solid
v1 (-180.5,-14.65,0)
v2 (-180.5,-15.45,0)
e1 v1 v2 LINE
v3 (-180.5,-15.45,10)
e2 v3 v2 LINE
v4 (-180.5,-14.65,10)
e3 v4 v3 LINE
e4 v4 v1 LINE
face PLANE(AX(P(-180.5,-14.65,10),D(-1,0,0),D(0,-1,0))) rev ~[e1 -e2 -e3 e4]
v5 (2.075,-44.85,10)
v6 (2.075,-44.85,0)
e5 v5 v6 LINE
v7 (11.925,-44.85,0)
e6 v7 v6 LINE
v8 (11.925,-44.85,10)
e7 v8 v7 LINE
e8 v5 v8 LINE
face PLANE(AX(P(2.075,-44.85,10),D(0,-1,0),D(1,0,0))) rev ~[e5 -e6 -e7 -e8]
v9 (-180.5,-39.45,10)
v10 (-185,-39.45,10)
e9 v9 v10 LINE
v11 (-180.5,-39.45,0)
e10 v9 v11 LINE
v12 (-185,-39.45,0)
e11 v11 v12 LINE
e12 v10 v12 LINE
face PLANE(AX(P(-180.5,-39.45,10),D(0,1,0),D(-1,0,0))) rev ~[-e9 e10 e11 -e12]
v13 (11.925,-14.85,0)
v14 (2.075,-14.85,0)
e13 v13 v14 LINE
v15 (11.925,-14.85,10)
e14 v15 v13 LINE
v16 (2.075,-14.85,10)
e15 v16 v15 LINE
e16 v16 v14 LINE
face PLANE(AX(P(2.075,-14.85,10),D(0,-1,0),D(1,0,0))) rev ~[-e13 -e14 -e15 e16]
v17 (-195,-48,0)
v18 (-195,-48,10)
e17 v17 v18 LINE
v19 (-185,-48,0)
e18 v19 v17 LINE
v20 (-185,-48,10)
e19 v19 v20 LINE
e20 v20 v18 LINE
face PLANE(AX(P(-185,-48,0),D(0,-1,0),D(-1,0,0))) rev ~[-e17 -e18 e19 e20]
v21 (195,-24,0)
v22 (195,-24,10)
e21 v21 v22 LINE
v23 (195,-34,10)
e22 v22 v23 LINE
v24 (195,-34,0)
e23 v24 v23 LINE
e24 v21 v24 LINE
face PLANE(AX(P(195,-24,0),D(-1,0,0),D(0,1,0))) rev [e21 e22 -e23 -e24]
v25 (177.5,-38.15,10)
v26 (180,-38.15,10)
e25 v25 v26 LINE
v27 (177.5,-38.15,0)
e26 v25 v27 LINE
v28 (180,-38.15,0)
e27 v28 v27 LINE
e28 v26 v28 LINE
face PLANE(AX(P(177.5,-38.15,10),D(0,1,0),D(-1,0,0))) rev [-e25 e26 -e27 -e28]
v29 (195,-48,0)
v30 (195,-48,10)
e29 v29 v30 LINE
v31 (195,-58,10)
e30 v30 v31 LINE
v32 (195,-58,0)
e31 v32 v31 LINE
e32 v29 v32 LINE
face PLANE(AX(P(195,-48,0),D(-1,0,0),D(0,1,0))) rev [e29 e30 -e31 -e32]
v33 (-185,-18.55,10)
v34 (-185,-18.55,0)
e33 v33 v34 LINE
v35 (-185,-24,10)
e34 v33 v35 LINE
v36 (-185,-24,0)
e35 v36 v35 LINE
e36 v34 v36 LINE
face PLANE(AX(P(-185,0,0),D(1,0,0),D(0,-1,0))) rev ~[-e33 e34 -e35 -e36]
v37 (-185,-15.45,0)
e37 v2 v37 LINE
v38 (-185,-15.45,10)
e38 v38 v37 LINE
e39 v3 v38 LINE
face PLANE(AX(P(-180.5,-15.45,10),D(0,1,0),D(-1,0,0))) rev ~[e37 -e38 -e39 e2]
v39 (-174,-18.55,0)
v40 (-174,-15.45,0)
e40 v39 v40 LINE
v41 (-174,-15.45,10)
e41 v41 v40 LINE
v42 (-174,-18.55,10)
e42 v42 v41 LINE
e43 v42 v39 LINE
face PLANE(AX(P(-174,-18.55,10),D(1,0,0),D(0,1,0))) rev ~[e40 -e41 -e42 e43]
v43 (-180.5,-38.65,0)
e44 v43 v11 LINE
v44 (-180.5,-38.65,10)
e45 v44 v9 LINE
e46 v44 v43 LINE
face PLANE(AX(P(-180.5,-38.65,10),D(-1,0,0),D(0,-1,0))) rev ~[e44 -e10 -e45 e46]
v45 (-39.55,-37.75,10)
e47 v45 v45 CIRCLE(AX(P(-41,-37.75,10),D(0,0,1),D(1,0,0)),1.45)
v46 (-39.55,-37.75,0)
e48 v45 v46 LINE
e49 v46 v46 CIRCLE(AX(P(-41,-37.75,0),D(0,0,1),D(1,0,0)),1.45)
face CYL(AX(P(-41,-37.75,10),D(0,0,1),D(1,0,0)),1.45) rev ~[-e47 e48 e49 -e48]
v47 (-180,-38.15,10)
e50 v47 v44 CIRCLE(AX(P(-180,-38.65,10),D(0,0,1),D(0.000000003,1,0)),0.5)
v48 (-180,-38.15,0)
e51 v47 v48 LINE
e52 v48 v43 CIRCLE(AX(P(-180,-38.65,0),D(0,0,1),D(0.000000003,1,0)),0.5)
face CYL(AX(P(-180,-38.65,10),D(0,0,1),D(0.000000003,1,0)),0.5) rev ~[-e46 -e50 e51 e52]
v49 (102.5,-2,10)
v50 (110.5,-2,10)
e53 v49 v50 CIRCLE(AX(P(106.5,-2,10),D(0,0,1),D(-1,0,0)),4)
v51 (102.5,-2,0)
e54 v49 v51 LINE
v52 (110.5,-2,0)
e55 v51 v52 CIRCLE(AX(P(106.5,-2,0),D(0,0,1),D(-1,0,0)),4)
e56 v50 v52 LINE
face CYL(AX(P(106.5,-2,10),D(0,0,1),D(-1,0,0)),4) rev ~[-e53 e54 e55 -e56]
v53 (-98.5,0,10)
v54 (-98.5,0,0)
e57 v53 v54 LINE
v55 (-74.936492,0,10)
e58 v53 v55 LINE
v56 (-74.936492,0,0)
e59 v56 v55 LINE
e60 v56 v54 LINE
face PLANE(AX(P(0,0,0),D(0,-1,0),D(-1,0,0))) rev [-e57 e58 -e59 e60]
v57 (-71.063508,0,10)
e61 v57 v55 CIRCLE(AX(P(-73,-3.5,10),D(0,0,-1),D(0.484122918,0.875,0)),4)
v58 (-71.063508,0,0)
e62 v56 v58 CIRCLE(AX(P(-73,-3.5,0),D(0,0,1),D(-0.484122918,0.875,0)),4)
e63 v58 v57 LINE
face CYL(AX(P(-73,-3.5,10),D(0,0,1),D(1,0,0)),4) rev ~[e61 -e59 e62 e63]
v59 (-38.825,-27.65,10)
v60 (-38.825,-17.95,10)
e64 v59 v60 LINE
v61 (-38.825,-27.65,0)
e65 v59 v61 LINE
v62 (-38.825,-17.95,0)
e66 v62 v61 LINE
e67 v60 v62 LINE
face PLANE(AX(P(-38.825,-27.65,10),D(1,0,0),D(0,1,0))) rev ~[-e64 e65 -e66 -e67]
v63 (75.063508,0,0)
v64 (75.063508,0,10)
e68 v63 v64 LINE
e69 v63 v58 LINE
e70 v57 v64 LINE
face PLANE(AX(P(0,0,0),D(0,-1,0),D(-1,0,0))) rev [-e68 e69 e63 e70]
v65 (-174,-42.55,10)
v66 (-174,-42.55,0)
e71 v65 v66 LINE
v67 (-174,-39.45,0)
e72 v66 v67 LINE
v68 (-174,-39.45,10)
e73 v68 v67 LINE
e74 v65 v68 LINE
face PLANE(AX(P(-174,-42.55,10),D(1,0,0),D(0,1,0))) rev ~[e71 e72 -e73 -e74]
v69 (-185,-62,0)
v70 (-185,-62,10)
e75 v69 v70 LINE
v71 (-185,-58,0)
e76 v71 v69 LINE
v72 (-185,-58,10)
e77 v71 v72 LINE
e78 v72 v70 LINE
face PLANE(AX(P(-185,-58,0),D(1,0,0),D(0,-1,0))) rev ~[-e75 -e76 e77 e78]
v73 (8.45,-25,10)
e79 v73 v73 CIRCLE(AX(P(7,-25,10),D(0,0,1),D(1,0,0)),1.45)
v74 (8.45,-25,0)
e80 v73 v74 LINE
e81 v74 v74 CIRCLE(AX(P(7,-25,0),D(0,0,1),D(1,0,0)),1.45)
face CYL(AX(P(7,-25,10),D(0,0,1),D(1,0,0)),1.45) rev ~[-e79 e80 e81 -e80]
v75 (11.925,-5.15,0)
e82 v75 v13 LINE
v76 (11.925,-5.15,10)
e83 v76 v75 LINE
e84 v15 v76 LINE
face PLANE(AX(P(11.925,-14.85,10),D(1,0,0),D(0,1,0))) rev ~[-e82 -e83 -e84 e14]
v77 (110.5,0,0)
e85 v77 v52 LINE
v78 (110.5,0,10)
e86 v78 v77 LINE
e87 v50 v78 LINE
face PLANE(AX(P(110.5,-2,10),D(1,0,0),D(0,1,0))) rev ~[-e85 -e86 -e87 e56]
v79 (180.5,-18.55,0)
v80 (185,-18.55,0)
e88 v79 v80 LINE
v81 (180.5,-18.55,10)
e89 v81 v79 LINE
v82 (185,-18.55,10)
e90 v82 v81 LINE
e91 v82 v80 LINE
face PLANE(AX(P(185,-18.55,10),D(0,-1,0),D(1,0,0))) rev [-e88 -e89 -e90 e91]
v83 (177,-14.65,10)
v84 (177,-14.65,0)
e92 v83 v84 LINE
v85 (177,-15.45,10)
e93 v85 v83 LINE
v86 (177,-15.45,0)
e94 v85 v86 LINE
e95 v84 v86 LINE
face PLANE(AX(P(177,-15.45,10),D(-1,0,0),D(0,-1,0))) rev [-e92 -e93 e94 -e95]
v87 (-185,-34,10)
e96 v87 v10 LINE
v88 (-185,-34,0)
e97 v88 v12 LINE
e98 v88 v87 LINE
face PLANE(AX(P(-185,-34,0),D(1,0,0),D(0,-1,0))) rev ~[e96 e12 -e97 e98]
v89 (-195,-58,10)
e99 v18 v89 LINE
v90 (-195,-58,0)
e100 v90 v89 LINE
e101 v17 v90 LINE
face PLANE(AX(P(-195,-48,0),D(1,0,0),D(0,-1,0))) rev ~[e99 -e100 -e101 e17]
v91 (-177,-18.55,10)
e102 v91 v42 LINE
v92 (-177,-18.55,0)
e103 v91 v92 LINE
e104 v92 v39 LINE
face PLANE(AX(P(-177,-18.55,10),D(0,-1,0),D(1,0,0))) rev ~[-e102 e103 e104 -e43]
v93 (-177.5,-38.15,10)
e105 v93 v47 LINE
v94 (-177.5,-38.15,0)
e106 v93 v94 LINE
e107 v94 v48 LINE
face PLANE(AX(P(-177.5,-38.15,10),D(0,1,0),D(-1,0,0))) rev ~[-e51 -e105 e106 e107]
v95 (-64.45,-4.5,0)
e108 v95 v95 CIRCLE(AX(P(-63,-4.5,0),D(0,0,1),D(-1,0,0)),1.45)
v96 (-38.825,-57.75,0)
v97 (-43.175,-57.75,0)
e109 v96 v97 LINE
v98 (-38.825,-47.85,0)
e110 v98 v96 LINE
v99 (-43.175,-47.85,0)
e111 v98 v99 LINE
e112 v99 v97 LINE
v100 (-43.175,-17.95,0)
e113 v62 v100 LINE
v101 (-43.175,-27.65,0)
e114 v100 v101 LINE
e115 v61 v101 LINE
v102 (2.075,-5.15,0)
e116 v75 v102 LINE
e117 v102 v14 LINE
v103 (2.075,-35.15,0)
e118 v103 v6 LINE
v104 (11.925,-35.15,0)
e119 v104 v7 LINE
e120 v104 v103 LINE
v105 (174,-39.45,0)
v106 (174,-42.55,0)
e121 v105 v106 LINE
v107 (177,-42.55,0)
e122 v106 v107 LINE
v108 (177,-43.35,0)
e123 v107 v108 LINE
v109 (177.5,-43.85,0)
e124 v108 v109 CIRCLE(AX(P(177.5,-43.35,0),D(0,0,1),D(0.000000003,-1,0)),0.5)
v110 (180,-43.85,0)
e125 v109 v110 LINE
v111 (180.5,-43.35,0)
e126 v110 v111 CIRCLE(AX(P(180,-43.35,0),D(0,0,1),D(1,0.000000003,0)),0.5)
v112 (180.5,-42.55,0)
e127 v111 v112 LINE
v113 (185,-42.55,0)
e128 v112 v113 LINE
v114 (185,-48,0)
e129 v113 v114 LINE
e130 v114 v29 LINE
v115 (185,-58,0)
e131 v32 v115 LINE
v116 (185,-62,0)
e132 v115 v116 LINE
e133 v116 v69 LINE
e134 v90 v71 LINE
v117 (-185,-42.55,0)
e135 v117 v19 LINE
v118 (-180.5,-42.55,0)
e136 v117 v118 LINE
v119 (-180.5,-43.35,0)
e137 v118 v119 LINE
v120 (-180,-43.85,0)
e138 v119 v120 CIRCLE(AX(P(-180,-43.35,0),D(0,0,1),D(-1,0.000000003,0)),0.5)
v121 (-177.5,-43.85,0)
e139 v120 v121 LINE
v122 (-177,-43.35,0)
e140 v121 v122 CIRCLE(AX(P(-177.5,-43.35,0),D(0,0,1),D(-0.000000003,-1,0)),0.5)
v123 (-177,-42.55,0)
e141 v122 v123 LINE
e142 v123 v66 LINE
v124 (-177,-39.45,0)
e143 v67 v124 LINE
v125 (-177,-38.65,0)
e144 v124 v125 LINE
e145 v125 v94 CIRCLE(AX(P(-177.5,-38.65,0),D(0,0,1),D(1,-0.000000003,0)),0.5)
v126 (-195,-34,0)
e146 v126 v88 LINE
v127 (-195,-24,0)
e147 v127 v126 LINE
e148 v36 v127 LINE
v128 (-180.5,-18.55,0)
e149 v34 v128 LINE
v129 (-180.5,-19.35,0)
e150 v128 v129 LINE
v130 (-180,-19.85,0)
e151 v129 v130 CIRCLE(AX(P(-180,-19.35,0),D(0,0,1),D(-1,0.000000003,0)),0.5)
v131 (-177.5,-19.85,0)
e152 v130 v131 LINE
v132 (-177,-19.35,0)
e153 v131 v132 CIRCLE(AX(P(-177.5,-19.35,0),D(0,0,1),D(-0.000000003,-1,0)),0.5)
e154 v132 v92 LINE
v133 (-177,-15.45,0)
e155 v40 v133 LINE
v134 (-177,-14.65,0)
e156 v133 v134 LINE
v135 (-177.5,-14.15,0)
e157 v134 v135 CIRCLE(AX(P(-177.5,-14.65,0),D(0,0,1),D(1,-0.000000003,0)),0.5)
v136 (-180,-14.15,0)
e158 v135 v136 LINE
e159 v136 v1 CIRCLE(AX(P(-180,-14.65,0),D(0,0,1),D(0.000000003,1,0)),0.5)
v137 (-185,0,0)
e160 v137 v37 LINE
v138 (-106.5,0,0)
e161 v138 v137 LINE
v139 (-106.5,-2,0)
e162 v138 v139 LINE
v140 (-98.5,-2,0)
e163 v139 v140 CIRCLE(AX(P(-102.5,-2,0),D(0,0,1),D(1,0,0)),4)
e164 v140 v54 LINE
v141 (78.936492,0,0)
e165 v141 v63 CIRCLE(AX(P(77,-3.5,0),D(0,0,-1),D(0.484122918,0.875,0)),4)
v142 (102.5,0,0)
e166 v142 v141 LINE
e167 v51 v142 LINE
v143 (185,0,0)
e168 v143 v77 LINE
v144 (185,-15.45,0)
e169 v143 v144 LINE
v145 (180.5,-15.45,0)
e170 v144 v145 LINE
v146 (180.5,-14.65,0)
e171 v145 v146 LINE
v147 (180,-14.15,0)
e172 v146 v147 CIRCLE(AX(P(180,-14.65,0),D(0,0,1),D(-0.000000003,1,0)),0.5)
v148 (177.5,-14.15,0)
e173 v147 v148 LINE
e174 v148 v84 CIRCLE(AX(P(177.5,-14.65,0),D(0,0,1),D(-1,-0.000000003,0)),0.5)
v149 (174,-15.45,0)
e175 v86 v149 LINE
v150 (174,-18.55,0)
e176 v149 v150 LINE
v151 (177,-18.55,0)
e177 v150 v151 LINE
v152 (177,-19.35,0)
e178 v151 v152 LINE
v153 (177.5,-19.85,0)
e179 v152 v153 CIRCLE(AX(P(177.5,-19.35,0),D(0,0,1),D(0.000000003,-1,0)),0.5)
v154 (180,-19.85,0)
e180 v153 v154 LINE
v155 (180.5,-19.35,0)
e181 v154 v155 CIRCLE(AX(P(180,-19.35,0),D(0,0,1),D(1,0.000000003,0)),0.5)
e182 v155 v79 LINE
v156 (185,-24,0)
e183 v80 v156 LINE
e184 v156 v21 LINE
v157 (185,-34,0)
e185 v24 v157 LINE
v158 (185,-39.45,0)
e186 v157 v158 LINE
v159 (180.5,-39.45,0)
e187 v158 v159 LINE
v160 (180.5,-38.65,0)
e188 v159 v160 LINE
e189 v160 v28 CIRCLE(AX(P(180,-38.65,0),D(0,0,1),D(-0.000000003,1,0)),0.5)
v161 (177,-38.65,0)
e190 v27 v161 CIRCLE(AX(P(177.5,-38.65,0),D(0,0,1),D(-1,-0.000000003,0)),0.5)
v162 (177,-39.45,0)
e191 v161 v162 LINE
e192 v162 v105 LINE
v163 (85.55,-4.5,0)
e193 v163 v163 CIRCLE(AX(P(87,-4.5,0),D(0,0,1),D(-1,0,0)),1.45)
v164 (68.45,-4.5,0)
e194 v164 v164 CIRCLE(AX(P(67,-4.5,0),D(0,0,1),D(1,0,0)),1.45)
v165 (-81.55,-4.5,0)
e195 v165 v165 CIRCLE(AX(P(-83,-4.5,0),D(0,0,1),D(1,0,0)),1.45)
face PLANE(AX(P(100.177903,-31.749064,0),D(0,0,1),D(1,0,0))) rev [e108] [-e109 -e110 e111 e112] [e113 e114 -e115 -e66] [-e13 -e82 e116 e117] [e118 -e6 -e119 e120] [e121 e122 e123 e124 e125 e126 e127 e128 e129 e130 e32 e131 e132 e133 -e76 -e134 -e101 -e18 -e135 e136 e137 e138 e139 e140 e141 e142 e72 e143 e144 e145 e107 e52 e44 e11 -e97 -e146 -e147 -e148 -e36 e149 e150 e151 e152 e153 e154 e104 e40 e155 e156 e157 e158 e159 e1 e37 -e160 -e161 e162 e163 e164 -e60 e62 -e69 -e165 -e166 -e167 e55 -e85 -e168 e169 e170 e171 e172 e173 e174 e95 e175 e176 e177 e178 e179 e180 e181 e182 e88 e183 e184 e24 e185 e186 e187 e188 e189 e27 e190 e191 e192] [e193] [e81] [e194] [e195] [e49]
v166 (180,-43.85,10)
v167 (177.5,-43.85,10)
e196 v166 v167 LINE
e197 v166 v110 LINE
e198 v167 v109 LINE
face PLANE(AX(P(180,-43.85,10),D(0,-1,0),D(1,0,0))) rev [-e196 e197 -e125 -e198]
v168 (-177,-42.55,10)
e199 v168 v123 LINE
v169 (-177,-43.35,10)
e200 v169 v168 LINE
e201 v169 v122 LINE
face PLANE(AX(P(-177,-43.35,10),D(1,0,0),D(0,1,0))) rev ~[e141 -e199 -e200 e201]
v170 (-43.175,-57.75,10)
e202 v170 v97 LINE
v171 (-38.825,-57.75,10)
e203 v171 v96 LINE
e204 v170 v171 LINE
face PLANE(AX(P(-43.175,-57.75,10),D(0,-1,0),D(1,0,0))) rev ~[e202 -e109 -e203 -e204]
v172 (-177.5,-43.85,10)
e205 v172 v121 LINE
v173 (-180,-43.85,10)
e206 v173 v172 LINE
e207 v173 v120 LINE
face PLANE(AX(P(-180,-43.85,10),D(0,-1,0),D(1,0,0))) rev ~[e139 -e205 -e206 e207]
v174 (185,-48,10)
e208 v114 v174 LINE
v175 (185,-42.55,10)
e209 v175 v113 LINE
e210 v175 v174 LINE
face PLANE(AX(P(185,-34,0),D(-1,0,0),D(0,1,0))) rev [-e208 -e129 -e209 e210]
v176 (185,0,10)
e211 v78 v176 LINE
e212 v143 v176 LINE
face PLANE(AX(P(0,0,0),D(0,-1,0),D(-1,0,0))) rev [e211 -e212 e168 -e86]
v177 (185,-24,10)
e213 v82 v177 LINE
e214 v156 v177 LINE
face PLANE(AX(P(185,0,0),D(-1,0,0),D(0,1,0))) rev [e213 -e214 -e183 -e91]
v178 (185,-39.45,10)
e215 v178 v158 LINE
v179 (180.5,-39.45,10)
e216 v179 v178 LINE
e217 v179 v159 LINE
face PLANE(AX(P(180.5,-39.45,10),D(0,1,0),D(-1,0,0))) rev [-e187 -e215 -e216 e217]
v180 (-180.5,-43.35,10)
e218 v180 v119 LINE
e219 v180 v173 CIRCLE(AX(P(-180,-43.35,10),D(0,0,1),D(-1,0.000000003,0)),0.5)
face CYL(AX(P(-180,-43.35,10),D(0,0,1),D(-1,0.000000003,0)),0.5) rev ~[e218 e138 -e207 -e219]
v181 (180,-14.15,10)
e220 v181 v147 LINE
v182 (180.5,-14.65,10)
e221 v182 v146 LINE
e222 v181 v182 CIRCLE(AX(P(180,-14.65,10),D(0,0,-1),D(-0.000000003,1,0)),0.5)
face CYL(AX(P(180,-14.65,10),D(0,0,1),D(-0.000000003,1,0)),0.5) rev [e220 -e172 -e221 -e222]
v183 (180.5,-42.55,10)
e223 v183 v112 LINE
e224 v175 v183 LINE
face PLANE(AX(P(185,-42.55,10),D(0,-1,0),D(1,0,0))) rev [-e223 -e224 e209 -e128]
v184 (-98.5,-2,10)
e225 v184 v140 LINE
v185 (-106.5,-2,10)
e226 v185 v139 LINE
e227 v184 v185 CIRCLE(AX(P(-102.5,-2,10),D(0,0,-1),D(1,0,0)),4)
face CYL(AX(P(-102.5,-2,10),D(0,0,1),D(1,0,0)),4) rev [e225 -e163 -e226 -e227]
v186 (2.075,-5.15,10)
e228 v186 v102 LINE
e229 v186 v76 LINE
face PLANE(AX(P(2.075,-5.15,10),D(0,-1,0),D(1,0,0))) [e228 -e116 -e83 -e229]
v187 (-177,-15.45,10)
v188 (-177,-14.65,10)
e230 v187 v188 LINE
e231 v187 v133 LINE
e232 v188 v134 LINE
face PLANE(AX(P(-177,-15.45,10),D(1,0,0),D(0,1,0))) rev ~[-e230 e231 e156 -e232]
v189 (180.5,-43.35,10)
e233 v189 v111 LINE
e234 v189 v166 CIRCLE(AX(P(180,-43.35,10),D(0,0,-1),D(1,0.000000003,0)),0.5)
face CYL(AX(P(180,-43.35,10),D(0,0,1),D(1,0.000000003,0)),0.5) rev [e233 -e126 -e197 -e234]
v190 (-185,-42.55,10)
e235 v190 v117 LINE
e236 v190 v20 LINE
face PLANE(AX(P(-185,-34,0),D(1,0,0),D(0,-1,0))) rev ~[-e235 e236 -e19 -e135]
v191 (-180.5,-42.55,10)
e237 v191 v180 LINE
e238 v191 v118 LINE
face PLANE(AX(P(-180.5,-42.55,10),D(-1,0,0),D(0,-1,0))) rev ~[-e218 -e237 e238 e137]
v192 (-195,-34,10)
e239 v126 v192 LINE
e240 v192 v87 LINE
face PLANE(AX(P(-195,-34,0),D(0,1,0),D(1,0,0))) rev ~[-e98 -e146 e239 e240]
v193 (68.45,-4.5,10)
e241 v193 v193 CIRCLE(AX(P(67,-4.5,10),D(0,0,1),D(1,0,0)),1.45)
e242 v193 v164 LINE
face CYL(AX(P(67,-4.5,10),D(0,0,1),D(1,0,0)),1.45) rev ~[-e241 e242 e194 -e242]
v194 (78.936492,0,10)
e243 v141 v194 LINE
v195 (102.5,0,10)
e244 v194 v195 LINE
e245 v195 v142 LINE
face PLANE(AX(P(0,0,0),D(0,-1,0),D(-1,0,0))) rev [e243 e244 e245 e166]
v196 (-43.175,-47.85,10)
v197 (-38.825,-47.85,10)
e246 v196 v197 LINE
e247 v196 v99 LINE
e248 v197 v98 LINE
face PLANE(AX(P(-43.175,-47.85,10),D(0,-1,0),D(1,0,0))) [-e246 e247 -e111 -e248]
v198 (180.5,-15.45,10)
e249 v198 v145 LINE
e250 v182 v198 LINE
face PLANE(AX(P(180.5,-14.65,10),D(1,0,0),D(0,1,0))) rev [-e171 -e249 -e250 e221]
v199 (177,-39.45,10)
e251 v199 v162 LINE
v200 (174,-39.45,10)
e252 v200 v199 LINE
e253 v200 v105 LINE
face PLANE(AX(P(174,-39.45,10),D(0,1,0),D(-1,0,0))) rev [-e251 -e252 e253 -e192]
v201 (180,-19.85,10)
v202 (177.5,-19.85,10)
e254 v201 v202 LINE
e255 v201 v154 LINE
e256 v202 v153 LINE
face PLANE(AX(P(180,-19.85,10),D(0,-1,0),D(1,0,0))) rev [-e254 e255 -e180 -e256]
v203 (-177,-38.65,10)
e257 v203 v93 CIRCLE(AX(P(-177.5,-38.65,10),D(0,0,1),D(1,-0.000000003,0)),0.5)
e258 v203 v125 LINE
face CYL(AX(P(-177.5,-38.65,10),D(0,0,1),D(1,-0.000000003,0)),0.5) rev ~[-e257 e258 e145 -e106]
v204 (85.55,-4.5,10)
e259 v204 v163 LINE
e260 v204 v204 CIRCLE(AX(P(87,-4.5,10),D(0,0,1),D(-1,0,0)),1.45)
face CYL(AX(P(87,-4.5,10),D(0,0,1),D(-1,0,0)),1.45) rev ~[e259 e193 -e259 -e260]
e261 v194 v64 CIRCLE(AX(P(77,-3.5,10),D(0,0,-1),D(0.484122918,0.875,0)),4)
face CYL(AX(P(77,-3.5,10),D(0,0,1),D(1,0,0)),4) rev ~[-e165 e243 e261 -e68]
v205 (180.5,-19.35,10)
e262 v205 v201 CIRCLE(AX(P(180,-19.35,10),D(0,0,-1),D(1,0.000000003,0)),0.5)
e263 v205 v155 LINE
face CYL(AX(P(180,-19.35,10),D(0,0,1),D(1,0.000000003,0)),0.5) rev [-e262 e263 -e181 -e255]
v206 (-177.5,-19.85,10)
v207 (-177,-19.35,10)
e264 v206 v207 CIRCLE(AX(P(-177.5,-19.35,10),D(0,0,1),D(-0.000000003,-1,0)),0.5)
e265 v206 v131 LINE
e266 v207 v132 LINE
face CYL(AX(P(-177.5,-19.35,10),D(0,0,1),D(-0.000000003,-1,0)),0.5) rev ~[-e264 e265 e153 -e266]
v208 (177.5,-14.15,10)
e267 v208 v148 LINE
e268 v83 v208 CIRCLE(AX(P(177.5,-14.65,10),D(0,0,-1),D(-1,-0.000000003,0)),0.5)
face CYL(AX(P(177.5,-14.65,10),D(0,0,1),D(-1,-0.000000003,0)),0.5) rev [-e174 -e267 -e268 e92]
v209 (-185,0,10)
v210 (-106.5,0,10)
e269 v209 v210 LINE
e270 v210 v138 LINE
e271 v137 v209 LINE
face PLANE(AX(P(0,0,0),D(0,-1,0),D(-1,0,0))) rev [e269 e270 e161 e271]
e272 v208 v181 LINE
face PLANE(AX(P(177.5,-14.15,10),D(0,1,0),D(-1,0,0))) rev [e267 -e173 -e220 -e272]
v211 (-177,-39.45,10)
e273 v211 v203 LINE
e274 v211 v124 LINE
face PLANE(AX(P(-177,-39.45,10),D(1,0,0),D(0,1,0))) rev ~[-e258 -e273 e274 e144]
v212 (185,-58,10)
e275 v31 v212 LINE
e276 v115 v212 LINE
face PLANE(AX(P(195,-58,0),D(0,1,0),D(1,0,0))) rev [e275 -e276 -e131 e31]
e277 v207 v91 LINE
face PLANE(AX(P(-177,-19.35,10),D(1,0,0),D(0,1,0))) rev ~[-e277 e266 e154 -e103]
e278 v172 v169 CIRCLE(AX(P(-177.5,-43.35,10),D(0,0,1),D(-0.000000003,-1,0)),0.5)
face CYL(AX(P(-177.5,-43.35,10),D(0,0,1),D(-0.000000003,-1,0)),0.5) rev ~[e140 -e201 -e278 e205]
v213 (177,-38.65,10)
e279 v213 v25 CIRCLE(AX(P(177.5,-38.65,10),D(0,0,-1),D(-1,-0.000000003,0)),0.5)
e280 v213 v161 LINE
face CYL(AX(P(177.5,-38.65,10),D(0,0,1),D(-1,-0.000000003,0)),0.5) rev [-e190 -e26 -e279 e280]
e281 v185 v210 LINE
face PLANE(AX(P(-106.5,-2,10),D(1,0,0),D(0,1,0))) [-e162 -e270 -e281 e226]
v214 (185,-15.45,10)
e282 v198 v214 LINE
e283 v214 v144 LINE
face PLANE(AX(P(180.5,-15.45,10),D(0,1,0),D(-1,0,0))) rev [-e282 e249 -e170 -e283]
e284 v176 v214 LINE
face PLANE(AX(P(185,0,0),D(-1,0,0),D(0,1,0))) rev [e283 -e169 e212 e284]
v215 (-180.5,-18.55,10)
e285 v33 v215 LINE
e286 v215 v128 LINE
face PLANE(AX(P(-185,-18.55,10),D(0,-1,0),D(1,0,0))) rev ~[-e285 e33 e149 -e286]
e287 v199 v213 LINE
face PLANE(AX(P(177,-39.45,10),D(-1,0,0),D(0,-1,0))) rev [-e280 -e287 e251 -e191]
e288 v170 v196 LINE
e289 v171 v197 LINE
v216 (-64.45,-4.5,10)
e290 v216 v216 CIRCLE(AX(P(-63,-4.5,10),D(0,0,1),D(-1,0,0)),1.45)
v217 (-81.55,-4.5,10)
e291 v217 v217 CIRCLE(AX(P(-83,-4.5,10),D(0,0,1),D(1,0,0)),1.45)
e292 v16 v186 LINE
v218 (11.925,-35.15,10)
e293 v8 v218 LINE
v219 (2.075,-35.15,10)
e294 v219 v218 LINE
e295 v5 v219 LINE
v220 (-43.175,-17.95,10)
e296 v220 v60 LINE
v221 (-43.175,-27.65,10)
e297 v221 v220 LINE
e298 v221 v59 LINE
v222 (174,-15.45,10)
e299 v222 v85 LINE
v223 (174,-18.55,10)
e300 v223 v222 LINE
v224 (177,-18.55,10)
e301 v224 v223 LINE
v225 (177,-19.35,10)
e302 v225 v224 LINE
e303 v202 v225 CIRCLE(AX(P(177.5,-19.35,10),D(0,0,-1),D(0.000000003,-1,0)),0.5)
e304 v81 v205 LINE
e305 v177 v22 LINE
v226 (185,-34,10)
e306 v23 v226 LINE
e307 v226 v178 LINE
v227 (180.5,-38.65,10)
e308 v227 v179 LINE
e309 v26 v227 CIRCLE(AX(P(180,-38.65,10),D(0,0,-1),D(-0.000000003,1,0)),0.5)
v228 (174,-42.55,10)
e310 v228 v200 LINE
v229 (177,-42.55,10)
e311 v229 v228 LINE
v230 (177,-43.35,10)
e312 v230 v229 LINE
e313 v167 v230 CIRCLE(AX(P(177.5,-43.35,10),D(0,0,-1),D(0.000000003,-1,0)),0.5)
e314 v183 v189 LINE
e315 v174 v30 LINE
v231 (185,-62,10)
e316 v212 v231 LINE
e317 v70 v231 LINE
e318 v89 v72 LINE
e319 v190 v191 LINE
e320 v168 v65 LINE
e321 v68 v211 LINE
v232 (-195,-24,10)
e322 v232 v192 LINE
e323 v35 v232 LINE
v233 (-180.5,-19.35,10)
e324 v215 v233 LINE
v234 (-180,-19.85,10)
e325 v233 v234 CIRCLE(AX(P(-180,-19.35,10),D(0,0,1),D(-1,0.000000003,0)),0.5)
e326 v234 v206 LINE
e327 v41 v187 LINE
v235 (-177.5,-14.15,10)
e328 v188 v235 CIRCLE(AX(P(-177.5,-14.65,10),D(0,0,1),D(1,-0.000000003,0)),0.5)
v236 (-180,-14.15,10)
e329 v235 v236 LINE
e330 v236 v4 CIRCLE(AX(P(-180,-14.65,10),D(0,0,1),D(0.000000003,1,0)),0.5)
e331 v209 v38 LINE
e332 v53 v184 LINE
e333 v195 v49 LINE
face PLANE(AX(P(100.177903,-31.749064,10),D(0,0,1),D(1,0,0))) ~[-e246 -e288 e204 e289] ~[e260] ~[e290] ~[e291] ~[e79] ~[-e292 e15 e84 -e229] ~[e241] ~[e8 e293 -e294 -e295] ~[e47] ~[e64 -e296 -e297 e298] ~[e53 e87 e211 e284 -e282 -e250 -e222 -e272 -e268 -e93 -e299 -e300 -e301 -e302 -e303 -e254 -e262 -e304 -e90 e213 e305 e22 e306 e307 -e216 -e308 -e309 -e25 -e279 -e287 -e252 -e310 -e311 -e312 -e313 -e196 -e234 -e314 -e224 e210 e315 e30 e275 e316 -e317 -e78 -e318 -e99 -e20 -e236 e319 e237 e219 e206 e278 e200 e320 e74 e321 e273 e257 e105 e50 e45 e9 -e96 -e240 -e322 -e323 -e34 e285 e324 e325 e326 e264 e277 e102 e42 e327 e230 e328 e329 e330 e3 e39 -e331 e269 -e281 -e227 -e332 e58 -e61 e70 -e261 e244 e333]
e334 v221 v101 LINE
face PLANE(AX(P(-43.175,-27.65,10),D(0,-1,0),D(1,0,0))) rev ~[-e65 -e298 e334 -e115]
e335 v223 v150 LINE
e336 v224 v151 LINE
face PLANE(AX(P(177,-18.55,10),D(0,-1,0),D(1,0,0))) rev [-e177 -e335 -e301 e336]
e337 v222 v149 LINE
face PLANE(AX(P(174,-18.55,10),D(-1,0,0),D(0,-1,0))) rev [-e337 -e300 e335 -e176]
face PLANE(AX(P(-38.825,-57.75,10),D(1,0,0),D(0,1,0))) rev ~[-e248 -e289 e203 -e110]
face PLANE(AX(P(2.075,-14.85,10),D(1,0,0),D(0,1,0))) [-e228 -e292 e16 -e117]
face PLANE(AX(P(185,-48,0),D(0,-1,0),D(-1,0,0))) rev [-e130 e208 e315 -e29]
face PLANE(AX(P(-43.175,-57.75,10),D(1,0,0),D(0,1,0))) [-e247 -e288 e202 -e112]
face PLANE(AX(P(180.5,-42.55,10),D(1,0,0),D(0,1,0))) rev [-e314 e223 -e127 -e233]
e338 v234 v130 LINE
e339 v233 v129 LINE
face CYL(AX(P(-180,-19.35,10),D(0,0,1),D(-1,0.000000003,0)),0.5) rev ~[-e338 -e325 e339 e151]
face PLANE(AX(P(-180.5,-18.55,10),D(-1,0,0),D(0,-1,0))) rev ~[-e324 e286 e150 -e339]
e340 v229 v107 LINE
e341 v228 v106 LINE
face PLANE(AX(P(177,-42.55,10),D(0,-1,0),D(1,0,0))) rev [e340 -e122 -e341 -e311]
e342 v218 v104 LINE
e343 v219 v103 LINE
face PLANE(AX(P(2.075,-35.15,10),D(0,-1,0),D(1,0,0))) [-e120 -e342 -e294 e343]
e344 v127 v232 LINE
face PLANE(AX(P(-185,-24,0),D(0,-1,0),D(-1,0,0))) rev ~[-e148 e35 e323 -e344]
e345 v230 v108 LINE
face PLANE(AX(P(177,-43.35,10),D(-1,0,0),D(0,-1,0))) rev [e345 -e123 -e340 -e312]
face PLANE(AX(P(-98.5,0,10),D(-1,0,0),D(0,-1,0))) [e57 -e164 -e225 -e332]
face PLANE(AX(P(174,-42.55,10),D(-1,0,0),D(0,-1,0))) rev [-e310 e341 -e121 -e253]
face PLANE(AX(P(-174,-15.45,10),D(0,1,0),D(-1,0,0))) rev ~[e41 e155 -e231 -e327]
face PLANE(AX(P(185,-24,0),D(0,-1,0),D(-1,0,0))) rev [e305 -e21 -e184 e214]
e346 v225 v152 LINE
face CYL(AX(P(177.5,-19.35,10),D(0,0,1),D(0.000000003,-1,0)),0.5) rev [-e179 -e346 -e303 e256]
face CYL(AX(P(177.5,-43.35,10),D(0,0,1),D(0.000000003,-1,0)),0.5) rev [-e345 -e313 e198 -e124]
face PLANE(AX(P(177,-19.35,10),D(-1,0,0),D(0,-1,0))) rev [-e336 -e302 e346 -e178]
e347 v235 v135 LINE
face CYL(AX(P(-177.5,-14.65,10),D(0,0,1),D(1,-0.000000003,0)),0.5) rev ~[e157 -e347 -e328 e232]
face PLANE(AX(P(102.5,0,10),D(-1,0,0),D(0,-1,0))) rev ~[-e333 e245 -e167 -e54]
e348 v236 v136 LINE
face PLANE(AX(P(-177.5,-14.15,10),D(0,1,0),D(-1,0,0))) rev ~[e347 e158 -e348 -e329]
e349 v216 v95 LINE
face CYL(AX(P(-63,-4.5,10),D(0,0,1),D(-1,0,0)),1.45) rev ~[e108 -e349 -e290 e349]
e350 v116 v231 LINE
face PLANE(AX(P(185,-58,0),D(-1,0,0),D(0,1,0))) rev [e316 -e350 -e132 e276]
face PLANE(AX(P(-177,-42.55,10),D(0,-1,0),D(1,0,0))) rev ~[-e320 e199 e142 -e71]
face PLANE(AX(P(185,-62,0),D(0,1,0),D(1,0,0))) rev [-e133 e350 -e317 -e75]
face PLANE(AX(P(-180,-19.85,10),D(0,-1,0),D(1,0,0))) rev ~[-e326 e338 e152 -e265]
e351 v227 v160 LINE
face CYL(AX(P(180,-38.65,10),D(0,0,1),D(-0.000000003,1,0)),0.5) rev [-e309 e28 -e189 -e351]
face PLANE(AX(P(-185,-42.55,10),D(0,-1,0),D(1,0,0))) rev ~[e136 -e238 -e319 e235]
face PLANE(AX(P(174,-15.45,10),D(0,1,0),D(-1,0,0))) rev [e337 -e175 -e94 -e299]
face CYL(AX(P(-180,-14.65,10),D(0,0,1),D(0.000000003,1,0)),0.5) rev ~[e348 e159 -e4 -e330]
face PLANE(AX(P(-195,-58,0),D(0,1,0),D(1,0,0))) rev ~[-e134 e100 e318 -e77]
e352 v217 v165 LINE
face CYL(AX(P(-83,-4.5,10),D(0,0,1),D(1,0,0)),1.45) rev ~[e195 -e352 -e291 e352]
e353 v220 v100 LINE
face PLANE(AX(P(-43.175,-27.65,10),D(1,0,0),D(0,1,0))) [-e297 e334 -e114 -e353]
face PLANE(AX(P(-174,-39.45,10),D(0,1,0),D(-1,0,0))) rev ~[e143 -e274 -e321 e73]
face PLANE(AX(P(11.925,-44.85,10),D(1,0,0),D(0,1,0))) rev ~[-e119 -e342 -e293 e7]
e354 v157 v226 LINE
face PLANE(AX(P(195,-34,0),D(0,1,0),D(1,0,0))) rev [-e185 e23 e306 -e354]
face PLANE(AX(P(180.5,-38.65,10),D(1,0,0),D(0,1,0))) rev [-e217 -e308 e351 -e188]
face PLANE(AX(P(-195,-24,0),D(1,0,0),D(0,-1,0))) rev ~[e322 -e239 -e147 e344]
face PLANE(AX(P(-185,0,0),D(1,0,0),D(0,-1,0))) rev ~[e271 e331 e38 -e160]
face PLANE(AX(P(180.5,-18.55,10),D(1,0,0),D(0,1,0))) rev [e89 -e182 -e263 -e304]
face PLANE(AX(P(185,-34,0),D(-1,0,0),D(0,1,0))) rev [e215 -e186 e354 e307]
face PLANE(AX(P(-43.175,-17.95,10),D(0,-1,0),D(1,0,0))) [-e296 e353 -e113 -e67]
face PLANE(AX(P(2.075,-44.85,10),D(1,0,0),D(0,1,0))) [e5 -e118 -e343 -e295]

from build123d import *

# Parameters (mm, degrees)
MAINBODY_DEPTH      = 10
SCREWCUTOUTS_DEPTH  = 205.863369102
SKETCH2_R           = 4
SKETCH2_R_2         = 1.45
RODCUTOUTS_DEPTH    = 205.863369102
SKETCH4_R           = 1.45
SKETCH4_W           = 9.85
SKETCH4_H           = 9.7
CUT_EXTRUDE3_DEPTH  = 205.863369102
SKETCH5_R           = 1.45
SKETCH5_W           = 4.35
SKETCH5_H           = 9.7
SKETCH5_H_2         = 9.9
ENDSTOPHOLDER_DEPTH = 205.863369102
CUT_EXTRUDE4_DEPTH  = 205.863369102


with BuildPart() as part:
    # Sketch1 → MainBody (new body)
    with BuildSketch(Plane.XY):
        Polygon((0, 0), (-185, 0), (-185, -24), (-195, -24), (-195, -34), (-185, -34), (-185, -48), (-195, -48), (-195, -58), (-185, -58), (-185, -62), (0, -62), align=None)
    mainbody = extrude(amount=MAINBODY_DEPTH)

    # Sketch3 → ScrewCutouts (cut, through all)
    with BuildSketch(Plane.XY.offset(10)):
        with BuildLine():
            Line((-185, -18.55), (-180.5, -18.55))
            Line((-180.5, -18.55), (-180.5, -19.35))
            ThreePointArc((-180.5, -19.35), (-180.353553391, -19.703553391), (-180, -19.85))
            Line((-180, -19.85), (-177.5, -19.85))
            ThreePointArc((-177.5, -19.85), (-177.146446609, -19.703553391), (-177, -19.35))
            Line((-177, -19.35), (-177, -18.55))
            Line((-177, -18.55), (-174, -18.55))
            Line((-174, -18.55), (-174, -15.45))
            Line((-174, -15.45), (-177, -15.45))
            Line((-177, -15.45), (-177, -14.65))
            ThreePointArc((-177, -14.65), (-177.146446609, -14.296446609), (-177.5, -14.15))
            Line((-177.5, -14.15), (-180, -14.15))
            ThreePointArc((-180, -14.15), (-180.353553391, -14.296446609), (-180.5, -14.65))
            Line((-180.5, -14.65), (-180.5, -15.45))
            Line((-180.5, -15.45), (-185, -15.45))
            Line((-185, -15.45), (-185, -18.55))
        make_face()
        with BuildLine():
            Line((-185, -39.45), (-185, -42.55))
            Line((-185, -42.55), (-180.5, -42.55))
            Line((-180.5, -42.55), (-180.5, -43.35))
            ThreePointArc((-180.5, -43.35), (-180.353553391, -43.703553391), (-180, -43.85))
            Line((-180, -43.85), (-177.5, -43.85))
            ThreePointArc((-177.5, -43.85), (-177.146446609, -43.703553391), (-177, -43.35))
            Line((-177, -43.35), (-177, -42.55))
            Line((-177, -42.55), (-174, -42.55))
            Line((-174, -42.55), (-174, -39.45))
            Line((-174, -39.45), (-177, -39.45))
            Line((-177, -39.45), (-177, -38.65))
            ThreePointArc((-177, -38.65), (-177.146446609, -38.296446609), (-177.5, -38.15))
            Line((-177.5, -38.15), (-180, -38.15))
            ThreePointArc((-180, -38.15), (-180.353553391, -38.296446609), (-180.5, -38.65))
            Line((-180.5, -38.65), (-180.5, -39.45))
            Line((-180.5, -39.45), (-185, -39.45))
        make_face()
    screwcutouts = extrude(amount=-SCREWCUTOUTS_DEPTH, mode=Mode.SUBTRACT)

    # Mirror1: MainBody, ScrewCutouts across plane
    add(mainbody.mirror(Plane(origin=(0, 0, 0), x_dir=(0, 0, 1), z_dir=(1, 0, 0))))
    add(screwcutouts.mirror(Plane(origin=(0, 0, 0), x_dir=(0, 0, 1), z_dir=(1, 0, 0))), mode=Mode.SUBTRACT)

    # Sketch2 → RodCutouts (cut, through all)
    with BuildSketch(Plane.XY.offset(10)):
        with Locations((-73, -3.5)):
            Circle(SKETCH2_R)
        with Locations((-83, -4.5)):
            Circle(SKETCH2_R_2)
        with Locations(Location((-63, -4.5, 0), (0, 0, 180))):
            Circle(SKETCH2_R_2)
        with Locations((67, -4.5)):
            Circle(SKETCH2_R_2)
        with Locations(Location((87, -4.5, 0), (0, 0, 180))):
            Circle(SKETCH2_R_2)
        with Locations((77, -3.5)):
            Circle(SKETCH2_R)
    extrude(amount=-RODCUTOUTS_DEPTH, mode=Mode.SUBTRACT)

    # Sketch4 → Cut-Extrude3 (cut, through all)
    with BuildSketch(Plane.XY.offset(10)):
        with Locations((7, -25)):
            Circle(SKETCH4_R)
        with Locations((7, -10)):
            Rectangle(SKETCH4_W, SKETCH4_H)
        with Locations((7, -40)):
            Rectangle(SKETCH4_W, SKETCH4_H)
    extrude(amount=-CUT_EXTRUDE3_DEPTH, mode=Mode.SUBTRACT)

    # Sketch5 → EndstopHolder (cut, through all)
    with BuildSketch(Plane.XY.offset(10)):
        with Locations((-41, -37.75)):
            Circle(SKETCH5_R)
        with Locations((-41, -22.8)):
            Rectangle(SKETCH5_W, SKETCH5_H)
        with Locations((-41, -52.8)):
            Rectangle(SKETCH5_W, SKETCH5_H_2)
        with BuildLine():
            Line((-31.425, 8.994431211), (-31.425, 5))
            ThreePointArc((-31.425, 5), (-34.625, 1.8), (-37.825, 5))
            Line((-37.825, 5), (-37.825, 8.994431211))
            ThreePointArc((-37.825, 8.994431211), (-34.625, 12.194431211), (-31.425, 8.994431211))
        make_face()
    extrude(amount=-ENDSTOPHOLDER_DEPTH, mode=Mode.SUBTRACT)

    # Sketch7 → Cut-Extrude4 (cut, through all)
    with BuildSketch(Plane.XY.offset(10)):
        with BuildLine():
            Line((-98.5, 0), (-98.5, -2))
            ThreePointArc((-98.5, -2), (-102.5, -6), (-106.5, -2))
            Line((-106.5, -2), (-106.5, 0))
            ThreePointArc((-106.5, 0), (-102.5, 4), (-98.5, 0))
        make_face()
        with BuildLine():
            Line((102.5, 0), (102.5, -2))
            ThreePointArc((102.5, -2), (106.5, -6), (110.5, -2))
            Line((110.5, -2), (110.5, 0))
            ThreePointArc((110.5, 0), (106.5, 4), (102.5, 0))
        make_face()
    extrude(amount=-CUT_EXTRUDE4_DEPTH, mode=Mode.SUBTRACT)


solid = part.part
